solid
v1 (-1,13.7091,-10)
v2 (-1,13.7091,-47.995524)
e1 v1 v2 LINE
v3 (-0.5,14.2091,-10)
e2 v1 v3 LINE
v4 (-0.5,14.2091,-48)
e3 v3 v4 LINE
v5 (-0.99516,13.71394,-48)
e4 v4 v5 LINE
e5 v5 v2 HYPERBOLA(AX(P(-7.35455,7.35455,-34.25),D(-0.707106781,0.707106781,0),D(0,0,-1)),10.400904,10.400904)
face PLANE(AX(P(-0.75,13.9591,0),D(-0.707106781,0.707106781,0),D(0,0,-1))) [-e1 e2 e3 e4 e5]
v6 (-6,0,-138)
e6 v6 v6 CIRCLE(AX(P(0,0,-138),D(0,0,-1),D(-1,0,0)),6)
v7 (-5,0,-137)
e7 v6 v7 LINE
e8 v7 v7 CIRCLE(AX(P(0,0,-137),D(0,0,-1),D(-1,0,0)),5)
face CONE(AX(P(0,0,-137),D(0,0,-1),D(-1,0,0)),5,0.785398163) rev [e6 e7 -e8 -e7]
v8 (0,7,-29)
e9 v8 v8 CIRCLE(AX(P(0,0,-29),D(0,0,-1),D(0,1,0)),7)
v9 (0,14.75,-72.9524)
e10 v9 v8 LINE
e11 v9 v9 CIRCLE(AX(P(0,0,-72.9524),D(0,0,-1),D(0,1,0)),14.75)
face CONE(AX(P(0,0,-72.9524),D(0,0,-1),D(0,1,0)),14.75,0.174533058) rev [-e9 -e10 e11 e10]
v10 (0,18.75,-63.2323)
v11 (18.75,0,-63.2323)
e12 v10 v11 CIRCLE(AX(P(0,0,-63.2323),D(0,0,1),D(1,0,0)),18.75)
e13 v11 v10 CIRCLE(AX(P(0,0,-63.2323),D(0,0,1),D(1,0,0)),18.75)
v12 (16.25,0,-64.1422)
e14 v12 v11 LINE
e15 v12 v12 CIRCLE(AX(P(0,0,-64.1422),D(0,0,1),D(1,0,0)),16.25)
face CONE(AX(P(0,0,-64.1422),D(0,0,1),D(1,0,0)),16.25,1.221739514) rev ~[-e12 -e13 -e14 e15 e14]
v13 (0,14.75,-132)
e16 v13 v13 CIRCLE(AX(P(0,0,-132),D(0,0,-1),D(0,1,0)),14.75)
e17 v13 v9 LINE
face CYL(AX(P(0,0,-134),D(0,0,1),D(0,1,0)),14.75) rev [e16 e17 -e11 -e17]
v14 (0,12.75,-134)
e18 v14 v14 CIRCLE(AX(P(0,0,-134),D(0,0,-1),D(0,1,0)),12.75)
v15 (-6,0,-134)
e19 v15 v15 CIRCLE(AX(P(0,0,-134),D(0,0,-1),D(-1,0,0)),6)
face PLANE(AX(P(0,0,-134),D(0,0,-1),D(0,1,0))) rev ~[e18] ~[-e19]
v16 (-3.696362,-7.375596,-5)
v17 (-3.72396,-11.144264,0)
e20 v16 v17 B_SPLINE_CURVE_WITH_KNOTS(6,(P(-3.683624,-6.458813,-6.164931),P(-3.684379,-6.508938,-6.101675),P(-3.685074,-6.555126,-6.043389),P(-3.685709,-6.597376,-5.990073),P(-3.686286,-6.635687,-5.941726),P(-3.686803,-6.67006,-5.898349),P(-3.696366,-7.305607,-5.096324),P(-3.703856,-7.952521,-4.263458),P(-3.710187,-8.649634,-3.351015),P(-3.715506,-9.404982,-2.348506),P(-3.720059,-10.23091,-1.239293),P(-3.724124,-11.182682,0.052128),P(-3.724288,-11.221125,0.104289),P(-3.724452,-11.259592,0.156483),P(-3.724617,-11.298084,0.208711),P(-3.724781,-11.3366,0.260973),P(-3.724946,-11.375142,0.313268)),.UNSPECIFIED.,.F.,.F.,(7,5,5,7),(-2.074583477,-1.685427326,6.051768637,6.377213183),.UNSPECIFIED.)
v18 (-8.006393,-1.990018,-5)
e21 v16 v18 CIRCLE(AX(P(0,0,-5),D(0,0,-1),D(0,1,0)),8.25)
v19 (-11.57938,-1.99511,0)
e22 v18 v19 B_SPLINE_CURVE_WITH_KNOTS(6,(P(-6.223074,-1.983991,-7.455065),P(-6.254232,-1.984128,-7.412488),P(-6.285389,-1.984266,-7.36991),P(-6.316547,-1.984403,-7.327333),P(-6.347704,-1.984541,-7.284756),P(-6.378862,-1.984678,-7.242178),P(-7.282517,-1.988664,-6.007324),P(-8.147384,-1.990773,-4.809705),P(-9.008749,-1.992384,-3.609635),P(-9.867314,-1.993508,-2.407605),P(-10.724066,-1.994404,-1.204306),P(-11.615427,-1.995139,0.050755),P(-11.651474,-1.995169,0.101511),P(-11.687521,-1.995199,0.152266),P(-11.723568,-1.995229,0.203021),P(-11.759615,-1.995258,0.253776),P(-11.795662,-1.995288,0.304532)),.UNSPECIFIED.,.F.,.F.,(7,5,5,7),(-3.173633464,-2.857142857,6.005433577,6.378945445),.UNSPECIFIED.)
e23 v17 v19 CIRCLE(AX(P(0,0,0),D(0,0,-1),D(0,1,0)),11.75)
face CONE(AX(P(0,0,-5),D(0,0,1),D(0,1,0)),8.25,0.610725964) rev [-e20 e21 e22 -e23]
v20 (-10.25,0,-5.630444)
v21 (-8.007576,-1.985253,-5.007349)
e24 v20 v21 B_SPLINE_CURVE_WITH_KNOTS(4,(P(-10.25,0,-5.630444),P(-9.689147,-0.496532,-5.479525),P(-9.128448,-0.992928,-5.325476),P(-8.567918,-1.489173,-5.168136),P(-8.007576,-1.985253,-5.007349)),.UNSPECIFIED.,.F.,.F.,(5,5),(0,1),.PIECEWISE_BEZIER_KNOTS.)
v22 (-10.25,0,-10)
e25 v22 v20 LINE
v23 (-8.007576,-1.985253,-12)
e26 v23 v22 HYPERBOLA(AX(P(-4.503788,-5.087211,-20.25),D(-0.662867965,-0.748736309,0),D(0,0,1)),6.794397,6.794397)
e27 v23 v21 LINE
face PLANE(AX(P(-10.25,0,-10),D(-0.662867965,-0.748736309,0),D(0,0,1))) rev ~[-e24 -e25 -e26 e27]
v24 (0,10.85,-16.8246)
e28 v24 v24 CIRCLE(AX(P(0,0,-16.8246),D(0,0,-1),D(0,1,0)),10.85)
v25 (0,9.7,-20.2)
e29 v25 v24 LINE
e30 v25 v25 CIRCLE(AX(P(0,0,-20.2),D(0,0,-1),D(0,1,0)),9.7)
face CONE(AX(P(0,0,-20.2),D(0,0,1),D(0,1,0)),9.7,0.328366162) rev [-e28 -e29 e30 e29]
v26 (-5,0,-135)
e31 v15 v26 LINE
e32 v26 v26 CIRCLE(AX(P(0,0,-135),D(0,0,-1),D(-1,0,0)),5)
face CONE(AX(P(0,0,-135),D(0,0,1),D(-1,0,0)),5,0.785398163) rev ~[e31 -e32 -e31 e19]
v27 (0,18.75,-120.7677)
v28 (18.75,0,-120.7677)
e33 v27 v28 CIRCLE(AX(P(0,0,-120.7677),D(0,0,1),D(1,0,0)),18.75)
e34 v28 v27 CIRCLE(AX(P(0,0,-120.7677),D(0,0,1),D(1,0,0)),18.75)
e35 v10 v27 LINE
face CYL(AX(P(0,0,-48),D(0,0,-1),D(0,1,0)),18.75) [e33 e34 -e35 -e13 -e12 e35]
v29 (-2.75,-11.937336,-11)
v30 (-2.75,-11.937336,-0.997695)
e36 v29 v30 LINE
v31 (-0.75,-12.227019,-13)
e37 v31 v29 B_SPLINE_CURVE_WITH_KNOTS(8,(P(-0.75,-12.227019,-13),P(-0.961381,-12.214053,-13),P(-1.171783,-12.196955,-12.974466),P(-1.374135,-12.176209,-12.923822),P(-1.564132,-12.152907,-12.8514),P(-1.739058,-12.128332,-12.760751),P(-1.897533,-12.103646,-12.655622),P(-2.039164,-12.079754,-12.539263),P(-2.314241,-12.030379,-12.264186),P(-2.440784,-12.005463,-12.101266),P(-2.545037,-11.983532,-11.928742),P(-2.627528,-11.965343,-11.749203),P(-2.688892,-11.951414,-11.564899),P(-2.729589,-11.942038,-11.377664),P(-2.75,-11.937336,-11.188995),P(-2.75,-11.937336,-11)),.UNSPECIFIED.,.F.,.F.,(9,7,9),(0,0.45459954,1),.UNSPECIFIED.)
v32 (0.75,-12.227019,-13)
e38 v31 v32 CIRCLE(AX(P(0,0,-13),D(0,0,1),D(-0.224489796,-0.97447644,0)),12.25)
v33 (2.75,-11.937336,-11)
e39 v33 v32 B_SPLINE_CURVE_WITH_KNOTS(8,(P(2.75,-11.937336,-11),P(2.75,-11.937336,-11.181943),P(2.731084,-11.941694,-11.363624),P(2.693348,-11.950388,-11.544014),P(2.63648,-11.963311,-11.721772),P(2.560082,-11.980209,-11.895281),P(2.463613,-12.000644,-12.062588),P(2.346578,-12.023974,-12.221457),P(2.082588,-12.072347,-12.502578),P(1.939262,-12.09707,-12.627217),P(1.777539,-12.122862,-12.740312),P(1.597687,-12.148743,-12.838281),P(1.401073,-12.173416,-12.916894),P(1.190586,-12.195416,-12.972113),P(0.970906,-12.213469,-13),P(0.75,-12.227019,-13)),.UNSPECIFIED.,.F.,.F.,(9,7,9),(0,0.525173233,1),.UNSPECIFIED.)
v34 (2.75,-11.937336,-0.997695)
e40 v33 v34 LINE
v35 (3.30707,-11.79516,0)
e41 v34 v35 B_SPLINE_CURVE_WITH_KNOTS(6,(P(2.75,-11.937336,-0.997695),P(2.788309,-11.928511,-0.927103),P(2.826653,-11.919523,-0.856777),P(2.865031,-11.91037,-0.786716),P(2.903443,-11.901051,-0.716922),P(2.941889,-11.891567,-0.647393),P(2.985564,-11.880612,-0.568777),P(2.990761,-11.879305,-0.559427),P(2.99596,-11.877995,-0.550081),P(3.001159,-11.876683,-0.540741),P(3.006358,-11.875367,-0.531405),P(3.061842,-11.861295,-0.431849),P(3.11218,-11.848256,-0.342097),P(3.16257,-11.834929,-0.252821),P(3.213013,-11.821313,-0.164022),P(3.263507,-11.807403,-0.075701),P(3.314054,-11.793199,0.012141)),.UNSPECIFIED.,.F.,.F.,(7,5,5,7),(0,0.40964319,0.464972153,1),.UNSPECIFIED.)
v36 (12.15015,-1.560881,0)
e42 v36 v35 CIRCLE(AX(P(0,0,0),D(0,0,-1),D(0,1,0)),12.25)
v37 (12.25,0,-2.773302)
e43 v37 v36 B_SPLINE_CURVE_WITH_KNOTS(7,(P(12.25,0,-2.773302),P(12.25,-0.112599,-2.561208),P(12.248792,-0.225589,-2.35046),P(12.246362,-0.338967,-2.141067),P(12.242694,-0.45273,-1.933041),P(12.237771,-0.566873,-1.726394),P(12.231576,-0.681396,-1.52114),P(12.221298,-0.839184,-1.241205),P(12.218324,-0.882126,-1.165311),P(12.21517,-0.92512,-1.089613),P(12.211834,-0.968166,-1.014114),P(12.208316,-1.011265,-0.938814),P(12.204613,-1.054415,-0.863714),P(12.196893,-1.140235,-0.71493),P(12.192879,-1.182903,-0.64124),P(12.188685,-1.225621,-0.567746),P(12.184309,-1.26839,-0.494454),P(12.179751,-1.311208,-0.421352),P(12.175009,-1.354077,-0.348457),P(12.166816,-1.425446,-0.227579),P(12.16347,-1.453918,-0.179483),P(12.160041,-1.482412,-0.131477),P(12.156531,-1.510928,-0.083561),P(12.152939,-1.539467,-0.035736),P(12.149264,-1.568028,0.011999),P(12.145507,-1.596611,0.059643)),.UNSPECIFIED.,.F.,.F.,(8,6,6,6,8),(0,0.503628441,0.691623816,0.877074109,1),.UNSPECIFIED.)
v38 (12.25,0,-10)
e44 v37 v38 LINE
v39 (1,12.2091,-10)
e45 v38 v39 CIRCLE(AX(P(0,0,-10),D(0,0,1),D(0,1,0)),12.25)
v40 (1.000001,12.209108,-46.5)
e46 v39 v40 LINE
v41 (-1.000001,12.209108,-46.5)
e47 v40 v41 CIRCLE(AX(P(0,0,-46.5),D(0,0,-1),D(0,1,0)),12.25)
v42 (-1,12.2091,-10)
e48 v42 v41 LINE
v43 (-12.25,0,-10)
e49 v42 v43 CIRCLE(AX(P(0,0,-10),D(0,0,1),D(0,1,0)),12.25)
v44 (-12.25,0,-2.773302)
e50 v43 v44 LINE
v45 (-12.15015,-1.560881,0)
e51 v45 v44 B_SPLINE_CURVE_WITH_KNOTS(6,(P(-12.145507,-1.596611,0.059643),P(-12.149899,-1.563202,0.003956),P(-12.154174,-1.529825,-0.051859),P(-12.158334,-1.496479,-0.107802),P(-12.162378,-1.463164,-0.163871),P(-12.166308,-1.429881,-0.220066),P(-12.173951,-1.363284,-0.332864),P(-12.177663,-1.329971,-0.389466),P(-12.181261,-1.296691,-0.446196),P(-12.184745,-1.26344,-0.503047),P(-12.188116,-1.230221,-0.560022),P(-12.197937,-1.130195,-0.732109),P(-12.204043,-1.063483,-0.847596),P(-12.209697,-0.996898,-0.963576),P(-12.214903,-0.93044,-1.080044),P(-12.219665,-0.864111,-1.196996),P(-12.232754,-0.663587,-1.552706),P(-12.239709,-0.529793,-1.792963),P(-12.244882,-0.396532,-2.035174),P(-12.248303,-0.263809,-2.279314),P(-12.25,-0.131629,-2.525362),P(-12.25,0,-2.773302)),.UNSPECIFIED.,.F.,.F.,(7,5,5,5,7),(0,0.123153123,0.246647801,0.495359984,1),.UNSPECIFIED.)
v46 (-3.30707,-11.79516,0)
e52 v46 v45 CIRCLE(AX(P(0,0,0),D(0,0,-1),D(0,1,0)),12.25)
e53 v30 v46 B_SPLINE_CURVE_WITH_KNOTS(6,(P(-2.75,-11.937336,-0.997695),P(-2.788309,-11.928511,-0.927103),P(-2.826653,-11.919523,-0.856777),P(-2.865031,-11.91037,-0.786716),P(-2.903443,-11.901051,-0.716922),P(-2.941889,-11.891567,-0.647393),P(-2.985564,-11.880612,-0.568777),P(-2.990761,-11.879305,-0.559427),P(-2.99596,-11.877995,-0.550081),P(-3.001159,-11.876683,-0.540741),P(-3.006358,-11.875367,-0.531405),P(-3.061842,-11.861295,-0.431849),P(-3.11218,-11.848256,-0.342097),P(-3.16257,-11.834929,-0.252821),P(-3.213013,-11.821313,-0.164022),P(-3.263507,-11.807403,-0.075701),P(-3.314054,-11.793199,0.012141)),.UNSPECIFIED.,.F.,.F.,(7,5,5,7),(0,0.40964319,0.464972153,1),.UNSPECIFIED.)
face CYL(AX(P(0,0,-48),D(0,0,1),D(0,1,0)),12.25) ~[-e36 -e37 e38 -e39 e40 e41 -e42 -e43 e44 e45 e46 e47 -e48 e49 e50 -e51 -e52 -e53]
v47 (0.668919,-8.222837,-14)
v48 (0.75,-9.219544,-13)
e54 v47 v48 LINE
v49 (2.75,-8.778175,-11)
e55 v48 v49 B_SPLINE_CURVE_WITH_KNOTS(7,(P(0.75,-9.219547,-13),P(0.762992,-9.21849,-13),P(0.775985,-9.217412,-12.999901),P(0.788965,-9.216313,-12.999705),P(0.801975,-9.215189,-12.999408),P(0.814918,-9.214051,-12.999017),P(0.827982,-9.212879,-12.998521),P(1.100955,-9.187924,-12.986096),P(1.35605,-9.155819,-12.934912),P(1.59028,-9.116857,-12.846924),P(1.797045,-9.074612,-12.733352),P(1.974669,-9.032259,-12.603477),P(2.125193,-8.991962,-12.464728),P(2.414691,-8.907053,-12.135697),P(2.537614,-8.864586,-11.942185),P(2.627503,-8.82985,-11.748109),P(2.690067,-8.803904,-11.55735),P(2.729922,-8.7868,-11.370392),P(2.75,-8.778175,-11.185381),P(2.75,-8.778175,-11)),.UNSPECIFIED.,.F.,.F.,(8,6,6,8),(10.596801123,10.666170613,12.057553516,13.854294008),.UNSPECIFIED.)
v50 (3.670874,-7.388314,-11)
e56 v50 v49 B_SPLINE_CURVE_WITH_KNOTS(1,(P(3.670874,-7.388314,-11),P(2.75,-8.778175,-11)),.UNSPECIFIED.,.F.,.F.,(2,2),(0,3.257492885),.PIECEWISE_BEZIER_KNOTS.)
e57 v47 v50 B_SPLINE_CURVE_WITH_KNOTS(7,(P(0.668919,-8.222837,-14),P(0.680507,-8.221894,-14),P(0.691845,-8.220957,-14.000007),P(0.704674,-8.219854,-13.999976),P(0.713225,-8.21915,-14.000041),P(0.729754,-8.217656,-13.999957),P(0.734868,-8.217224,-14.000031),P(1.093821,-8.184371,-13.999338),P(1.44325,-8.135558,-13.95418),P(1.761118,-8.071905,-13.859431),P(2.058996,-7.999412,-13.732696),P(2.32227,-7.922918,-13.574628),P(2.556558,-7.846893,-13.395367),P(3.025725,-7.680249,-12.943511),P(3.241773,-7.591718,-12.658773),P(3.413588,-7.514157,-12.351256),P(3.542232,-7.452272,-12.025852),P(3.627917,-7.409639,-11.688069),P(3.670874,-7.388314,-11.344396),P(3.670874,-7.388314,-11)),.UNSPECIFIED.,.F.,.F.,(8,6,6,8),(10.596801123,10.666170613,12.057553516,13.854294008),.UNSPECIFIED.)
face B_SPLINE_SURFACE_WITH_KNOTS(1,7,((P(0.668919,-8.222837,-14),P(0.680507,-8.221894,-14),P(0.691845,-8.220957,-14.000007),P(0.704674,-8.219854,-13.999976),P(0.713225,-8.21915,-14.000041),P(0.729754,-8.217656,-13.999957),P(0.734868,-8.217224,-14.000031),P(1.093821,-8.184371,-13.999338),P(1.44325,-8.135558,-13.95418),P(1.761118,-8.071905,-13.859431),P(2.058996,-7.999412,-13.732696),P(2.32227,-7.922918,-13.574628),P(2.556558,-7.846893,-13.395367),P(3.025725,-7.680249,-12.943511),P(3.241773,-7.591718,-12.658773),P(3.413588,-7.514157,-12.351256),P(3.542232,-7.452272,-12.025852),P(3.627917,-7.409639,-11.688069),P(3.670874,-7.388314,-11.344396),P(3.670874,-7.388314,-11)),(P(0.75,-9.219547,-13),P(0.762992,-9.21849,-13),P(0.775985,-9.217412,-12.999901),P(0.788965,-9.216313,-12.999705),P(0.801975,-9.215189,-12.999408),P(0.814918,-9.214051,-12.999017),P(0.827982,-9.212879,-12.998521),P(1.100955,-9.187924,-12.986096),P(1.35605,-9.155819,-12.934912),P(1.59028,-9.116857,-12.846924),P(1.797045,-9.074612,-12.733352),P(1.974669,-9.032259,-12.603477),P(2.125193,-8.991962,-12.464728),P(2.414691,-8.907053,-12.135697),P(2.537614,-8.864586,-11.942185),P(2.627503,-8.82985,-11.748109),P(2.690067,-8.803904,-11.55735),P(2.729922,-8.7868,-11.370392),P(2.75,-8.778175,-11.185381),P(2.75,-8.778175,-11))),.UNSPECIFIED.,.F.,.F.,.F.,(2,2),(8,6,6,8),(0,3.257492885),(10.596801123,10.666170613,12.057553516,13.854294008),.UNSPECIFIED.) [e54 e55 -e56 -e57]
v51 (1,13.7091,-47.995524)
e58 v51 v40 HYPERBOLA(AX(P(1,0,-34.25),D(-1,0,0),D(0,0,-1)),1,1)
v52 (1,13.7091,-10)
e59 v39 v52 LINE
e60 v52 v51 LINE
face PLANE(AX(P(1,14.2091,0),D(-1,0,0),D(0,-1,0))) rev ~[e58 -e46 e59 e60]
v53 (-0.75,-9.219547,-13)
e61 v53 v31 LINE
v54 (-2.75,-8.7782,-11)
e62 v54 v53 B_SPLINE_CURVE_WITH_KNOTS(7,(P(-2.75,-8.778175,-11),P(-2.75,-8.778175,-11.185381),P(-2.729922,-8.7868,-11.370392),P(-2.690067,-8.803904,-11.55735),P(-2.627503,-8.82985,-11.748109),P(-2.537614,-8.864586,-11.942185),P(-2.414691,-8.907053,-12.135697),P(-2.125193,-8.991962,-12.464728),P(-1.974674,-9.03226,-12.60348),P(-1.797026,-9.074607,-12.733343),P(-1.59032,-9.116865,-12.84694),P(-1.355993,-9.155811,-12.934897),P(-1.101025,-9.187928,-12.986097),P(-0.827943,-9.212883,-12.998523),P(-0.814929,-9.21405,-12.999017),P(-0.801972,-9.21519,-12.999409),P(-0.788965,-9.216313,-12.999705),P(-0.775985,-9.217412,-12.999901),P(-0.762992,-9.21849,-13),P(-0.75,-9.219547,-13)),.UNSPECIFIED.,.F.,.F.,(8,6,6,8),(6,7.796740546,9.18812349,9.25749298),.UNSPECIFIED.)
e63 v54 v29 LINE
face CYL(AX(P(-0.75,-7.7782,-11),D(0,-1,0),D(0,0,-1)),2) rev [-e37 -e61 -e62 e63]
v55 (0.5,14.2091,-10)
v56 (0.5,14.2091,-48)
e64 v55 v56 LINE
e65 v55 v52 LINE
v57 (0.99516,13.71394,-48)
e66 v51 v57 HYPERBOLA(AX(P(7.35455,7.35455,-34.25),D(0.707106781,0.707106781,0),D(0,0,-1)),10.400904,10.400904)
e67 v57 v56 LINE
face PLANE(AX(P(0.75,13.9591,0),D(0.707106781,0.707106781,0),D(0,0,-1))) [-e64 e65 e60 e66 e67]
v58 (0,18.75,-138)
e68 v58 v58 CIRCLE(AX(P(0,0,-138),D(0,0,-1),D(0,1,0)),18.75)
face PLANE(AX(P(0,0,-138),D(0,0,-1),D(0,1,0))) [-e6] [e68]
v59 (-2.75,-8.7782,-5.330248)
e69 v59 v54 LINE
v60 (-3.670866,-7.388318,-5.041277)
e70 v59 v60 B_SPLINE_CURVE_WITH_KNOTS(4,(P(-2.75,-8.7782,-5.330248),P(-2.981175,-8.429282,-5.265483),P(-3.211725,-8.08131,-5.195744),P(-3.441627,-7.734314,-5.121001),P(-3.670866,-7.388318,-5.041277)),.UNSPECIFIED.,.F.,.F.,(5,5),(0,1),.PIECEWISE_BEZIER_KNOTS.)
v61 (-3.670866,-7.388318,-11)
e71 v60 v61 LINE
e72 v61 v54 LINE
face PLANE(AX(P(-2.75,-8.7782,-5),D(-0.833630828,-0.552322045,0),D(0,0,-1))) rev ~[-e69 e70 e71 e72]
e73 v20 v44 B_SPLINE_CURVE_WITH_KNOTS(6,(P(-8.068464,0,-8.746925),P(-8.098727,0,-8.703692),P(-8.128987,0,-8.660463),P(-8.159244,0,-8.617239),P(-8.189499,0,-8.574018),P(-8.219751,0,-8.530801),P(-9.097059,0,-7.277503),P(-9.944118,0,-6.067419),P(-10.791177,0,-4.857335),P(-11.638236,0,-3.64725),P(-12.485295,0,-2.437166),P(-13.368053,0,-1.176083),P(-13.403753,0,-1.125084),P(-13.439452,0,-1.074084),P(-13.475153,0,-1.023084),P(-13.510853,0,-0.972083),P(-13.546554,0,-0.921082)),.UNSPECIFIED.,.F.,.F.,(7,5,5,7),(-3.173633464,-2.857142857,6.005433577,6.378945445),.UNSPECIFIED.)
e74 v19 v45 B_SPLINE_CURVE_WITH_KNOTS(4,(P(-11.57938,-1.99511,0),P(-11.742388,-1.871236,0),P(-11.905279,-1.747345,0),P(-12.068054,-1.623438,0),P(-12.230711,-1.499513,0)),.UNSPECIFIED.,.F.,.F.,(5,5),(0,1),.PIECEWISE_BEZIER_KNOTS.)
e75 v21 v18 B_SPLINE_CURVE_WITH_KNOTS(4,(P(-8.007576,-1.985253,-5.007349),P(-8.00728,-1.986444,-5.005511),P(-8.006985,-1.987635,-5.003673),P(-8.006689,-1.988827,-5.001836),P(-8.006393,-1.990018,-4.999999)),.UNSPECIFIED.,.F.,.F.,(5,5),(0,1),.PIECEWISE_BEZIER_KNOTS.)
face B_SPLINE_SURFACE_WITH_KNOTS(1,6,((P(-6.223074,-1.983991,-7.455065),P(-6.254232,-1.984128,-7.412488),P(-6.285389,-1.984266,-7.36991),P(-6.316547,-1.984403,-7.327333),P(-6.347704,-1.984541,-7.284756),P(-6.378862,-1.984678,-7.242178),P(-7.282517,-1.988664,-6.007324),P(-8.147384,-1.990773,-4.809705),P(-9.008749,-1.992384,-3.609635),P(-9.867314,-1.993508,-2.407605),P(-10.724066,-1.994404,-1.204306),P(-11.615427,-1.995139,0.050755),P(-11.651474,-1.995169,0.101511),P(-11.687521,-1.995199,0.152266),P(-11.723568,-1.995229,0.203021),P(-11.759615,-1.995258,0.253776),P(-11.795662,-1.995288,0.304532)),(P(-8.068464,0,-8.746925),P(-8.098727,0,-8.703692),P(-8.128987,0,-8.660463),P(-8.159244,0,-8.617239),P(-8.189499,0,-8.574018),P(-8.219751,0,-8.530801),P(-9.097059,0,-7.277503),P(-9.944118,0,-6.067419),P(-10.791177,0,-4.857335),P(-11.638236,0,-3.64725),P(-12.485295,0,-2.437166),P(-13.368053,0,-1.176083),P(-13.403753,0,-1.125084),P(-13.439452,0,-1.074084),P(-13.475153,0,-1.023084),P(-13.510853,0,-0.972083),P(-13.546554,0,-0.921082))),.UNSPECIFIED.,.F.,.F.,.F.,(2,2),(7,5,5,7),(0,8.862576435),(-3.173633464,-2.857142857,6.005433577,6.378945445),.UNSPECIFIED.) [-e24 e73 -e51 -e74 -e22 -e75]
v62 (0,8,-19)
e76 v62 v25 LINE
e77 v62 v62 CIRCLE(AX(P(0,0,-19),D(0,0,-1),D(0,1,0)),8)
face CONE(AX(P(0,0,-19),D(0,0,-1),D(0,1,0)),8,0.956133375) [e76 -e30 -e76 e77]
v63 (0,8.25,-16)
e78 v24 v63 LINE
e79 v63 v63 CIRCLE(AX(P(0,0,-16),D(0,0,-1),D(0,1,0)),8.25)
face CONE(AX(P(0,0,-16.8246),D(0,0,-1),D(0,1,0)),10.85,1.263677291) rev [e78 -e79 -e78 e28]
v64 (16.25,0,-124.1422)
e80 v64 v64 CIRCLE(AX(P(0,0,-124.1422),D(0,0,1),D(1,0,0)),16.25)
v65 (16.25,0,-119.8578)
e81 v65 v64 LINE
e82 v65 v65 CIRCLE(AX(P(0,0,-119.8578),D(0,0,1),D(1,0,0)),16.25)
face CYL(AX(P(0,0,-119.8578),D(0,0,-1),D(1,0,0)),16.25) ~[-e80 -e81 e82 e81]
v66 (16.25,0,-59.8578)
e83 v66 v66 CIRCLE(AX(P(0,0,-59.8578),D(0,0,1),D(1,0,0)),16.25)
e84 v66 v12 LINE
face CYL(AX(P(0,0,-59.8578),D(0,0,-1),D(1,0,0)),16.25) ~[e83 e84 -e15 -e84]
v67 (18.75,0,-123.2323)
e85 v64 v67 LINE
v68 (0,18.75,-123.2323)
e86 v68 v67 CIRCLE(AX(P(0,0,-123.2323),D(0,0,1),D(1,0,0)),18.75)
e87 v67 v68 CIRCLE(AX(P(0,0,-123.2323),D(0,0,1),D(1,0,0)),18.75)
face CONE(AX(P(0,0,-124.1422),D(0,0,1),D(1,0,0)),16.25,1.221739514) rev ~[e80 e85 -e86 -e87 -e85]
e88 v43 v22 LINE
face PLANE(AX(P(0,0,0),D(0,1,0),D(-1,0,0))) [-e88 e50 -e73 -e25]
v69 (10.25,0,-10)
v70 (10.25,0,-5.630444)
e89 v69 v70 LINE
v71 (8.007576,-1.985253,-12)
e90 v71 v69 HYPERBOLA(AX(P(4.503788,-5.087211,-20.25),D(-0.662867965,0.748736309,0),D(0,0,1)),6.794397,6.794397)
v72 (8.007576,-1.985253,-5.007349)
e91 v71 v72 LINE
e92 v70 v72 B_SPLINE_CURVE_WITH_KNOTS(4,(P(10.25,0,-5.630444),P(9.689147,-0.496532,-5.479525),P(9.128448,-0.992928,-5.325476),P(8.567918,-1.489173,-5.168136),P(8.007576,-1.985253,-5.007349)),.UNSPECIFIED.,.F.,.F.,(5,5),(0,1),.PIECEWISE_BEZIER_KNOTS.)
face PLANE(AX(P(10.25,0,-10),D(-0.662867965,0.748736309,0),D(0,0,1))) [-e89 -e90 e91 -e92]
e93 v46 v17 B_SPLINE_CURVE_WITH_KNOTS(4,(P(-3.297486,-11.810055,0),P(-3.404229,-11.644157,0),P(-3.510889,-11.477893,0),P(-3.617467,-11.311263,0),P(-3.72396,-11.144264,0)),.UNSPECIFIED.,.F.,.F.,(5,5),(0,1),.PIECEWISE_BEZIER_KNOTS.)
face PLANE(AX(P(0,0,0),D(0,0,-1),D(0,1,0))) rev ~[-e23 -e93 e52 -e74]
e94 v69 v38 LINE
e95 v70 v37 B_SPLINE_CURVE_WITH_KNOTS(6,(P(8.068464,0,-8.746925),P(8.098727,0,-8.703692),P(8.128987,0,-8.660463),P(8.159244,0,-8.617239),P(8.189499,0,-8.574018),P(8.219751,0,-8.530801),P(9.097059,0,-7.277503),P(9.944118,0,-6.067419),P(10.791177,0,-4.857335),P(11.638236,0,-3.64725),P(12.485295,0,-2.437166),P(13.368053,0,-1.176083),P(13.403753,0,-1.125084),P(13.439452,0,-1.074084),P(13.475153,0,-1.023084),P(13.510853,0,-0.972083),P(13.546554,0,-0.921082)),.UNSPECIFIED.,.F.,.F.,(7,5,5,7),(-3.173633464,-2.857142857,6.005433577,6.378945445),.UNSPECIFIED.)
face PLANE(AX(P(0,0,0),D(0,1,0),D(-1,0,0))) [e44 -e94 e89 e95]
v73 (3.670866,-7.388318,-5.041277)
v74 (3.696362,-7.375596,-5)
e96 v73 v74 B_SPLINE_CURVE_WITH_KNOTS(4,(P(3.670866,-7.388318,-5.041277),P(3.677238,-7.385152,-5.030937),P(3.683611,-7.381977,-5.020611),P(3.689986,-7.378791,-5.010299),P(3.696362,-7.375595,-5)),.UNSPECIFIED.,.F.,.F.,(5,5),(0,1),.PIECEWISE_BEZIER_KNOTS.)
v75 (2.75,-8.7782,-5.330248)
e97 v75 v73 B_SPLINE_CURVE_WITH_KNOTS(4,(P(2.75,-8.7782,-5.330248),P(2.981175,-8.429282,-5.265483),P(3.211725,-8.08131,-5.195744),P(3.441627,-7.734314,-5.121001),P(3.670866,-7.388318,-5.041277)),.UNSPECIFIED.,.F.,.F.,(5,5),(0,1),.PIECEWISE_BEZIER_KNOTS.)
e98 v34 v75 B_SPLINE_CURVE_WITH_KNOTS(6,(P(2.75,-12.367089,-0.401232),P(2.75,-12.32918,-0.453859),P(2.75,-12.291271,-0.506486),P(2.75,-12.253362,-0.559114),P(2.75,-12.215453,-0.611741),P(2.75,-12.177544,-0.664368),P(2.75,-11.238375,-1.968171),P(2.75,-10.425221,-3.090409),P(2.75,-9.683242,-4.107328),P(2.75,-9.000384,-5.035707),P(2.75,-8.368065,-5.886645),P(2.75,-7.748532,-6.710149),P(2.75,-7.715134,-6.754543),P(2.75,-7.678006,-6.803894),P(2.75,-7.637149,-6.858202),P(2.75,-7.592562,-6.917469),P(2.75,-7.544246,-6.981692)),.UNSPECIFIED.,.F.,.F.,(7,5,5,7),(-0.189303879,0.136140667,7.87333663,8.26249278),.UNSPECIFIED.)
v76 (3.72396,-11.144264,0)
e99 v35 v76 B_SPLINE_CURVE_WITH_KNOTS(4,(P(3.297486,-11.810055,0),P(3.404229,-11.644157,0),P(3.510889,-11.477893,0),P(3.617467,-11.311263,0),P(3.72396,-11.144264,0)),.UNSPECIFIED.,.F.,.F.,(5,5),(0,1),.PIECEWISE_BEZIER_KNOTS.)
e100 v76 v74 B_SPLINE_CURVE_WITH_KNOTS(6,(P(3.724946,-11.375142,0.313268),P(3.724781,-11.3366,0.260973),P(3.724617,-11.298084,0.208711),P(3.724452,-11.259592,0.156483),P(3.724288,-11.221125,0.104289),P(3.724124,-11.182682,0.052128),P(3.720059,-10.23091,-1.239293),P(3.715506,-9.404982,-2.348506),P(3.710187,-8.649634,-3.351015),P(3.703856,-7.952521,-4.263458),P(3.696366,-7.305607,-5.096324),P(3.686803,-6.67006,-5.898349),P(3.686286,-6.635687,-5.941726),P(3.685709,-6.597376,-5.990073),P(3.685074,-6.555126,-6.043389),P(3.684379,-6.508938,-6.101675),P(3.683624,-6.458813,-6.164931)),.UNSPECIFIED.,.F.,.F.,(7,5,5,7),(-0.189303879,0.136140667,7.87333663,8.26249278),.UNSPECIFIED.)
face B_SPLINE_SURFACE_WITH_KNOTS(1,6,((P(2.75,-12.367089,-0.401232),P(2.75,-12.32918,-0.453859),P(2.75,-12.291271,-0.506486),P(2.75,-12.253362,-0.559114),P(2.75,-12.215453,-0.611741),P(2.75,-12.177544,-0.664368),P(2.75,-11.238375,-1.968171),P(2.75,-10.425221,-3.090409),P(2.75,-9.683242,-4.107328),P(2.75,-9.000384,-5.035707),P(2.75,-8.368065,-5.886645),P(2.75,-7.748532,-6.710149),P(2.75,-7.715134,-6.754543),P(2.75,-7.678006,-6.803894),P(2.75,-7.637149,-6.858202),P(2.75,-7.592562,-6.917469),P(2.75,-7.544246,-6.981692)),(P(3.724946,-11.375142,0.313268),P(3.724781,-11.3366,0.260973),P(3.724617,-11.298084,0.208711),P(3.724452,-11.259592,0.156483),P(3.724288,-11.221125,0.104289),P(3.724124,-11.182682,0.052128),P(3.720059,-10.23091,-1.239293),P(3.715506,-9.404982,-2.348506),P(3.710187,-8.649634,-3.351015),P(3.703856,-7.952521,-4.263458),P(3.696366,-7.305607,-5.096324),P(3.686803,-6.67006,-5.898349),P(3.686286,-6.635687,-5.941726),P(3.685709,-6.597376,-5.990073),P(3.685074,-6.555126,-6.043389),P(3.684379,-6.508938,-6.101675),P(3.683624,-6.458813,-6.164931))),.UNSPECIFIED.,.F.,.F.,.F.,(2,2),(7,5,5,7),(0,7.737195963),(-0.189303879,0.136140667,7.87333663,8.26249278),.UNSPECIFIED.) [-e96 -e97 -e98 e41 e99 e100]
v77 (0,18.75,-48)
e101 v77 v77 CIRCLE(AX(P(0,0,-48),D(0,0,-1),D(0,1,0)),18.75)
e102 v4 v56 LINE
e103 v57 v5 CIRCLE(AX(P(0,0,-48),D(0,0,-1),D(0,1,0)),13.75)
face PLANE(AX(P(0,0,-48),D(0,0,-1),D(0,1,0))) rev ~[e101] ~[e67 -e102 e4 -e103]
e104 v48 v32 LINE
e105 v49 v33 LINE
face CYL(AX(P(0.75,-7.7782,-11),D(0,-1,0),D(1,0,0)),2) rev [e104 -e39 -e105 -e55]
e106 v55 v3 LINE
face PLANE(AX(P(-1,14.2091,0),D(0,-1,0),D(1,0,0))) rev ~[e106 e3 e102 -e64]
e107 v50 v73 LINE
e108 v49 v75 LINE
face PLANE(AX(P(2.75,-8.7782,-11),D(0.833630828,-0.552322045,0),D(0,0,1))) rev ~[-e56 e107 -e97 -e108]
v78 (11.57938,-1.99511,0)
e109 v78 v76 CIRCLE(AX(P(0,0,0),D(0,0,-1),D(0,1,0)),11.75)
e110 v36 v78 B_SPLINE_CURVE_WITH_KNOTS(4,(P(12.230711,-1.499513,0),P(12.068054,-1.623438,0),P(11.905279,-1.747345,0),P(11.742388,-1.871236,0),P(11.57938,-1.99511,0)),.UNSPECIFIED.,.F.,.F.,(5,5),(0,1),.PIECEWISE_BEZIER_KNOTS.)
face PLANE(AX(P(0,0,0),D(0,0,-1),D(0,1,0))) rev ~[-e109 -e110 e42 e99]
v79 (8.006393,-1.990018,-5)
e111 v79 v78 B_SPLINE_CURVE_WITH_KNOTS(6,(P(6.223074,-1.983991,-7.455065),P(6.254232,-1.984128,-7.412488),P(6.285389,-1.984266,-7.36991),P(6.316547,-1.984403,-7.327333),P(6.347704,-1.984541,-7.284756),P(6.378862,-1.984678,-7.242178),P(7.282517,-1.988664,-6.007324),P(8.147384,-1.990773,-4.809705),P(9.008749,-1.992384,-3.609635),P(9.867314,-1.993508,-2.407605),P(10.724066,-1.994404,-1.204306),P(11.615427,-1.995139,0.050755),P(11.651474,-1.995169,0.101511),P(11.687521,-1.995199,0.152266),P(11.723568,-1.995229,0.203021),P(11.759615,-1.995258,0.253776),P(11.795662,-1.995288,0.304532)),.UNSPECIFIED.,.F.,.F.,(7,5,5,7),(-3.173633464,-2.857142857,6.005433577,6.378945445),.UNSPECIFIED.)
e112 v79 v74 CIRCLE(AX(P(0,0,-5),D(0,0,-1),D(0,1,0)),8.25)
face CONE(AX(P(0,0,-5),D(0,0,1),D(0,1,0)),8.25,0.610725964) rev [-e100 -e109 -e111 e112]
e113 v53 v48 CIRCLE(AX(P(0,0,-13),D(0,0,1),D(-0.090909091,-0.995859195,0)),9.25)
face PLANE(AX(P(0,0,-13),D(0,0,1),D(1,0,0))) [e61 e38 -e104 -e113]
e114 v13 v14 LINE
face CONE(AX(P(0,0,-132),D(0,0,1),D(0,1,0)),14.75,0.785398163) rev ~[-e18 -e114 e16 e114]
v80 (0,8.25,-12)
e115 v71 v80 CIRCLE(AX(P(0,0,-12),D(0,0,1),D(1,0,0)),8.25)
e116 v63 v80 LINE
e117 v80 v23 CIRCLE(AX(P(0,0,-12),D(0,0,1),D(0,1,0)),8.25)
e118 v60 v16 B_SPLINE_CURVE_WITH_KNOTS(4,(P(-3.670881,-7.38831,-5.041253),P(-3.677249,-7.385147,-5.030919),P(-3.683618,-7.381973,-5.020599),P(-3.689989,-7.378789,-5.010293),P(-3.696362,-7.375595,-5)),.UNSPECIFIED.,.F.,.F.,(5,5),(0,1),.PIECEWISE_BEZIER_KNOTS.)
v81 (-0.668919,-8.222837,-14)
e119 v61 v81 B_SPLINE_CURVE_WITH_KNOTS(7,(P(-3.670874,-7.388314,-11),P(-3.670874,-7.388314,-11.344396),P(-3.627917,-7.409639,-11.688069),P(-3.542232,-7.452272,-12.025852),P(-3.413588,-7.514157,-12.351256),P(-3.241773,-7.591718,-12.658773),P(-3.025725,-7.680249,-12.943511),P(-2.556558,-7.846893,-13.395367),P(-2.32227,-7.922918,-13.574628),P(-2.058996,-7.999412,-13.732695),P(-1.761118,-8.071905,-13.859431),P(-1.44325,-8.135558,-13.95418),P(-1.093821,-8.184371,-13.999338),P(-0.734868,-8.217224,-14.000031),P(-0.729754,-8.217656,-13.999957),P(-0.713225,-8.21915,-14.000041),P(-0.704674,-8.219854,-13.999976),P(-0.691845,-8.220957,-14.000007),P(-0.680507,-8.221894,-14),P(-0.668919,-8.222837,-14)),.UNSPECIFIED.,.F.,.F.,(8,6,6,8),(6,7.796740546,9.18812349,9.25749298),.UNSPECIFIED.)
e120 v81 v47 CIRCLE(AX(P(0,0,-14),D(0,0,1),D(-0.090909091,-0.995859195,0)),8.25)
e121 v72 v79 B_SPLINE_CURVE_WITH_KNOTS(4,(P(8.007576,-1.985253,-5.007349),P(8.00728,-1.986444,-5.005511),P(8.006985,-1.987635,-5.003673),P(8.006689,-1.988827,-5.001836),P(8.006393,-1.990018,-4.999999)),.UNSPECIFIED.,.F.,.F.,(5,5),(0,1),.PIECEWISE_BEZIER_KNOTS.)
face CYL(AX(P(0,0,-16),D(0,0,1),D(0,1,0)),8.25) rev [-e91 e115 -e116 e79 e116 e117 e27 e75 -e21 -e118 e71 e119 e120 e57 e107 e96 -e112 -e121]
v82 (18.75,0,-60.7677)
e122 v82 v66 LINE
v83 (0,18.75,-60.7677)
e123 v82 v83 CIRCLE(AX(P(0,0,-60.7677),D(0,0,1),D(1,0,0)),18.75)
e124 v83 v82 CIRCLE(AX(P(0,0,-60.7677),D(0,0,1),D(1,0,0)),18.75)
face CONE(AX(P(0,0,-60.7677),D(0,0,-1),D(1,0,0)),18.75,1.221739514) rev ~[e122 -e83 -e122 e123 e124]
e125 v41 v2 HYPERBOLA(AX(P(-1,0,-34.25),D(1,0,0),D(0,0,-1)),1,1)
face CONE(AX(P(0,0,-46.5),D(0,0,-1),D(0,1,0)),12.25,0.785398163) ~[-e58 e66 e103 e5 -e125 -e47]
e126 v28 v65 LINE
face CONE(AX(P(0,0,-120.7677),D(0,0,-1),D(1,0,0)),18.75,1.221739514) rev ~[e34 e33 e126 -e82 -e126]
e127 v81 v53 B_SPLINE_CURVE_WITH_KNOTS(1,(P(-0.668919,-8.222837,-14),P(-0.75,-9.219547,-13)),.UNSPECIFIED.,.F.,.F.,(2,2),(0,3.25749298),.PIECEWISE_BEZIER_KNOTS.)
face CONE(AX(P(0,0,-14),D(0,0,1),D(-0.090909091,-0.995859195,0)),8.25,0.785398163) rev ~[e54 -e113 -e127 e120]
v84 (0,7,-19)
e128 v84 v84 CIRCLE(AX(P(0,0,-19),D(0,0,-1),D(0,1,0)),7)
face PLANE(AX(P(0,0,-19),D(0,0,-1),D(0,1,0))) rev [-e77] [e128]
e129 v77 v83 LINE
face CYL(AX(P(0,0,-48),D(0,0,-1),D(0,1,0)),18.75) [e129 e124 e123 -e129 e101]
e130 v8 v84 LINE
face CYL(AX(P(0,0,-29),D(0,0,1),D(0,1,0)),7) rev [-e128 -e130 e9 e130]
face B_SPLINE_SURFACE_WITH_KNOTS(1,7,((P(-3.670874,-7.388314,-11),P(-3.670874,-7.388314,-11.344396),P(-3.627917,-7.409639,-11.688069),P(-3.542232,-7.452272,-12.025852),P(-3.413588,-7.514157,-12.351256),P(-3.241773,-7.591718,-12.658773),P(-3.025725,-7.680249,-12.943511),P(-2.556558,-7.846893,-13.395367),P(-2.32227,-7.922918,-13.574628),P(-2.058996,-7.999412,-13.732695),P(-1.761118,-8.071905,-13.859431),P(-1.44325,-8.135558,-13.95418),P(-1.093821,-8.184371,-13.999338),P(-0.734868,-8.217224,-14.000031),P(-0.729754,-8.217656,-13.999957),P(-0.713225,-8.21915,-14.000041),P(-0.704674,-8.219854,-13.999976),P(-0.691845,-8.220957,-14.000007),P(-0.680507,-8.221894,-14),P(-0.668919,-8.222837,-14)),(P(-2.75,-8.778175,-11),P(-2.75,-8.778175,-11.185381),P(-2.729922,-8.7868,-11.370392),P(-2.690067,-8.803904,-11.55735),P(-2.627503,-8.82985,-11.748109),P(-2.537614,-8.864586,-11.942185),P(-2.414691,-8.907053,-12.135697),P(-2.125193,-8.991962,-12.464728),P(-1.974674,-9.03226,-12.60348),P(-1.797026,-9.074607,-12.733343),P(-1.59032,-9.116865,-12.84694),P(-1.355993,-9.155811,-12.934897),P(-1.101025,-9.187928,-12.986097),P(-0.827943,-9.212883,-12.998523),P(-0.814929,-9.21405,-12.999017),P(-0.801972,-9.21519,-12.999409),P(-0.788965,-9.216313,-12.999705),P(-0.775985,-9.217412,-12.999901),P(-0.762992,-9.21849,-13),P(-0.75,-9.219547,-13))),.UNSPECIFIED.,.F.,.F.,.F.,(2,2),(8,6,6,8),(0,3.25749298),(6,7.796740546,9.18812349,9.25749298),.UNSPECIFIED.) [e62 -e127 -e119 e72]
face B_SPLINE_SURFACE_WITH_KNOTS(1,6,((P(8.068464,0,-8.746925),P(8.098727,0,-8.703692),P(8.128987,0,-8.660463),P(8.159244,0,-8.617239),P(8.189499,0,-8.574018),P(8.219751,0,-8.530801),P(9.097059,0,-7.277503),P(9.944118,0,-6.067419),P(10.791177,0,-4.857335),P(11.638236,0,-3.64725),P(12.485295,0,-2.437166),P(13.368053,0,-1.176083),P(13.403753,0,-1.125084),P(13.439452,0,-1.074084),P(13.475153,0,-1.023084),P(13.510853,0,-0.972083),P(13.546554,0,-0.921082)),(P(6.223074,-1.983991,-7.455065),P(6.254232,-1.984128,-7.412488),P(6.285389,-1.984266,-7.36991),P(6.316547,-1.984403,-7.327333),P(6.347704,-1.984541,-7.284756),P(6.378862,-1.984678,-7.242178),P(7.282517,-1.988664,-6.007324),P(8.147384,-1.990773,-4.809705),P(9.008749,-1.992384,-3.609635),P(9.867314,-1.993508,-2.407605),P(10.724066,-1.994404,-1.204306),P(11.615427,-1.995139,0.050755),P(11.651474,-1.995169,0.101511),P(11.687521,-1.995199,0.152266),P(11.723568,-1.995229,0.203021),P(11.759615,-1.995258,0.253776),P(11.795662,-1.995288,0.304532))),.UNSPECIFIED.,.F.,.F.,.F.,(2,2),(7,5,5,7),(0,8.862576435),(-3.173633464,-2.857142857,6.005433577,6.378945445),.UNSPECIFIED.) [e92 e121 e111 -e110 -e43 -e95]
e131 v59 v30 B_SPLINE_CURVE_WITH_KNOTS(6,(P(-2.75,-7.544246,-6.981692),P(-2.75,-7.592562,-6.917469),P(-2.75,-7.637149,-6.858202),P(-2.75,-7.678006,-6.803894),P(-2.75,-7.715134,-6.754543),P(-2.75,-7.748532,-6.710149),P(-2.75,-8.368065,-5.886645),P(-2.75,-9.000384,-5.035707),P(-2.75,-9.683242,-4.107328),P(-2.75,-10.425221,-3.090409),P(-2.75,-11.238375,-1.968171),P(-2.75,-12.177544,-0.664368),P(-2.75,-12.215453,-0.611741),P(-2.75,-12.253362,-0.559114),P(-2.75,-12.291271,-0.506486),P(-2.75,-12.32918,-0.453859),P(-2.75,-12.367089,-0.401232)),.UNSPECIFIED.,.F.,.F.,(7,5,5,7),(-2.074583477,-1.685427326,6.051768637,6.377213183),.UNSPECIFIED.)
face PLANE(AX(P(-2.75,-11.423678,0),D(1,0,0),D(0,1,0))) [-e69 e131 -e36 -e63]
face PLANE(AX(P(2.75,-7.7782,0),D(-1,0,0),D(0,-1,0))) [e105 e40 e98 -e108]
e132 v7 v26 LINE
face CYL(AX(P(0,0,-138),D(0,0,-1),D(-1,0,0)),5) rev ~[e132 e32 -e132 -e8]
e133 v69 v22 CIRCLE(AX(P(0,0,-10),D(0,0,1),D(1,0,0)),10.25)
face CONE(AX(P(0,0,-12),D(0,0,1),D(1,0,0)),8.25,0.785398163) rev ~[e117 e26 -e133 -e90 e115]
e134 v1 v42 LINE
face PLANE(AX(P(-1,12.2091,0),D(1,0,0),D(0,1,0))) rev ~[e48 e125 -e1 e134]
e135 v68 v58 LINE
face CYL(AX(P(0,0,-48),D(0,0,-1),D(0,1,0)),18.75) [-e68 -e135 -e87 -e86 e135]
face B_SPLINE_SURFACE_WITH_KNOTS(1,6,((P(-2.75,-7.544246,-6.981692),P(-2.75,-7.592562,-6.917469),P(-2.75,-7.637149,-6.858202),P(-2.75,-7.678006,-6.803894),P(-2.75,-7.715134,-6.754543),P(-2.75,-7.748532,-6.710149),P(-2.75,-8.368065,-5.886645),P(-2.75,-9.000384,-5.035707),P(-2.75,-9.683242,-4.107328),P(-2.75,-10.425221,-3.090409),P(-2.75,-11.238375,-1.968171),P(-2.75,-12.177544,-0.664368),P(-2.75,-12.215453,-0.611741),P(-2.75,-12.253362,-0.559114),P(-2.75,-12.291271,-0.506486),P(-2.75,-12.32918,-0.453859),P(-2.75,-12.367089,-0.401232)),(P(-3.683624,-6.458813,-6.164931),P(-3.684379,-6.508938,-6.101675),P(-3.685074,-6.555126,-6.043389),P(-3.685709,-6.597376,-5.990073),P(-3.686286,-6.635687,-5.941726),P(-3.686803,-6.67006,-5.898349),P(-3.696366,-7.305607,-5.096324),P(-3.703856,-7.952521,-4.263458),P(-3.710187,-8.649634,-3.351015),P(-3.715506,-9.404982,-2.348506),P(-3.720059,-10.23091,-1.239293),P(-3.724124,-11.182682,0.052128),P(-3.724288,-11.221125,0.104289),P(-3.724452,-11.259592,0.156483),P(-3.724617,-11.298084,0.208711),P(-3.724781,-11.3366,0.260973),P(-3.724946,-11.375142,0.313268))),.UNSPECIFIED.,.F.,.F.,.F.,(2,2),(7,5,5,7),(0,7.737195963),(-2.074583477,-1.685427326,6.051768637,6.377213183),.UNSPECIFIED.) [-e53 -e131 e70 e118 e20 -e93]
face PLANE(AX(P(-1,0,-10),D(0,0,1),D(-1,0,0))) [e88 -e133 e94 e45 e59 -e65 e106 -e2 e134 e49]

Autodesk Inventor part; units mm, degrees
ref_plane "YZ Plane" through (0, 0, 0) normal (1, 0, 0) x (0, 1, 0)
ref_plane "XZ Plane" through (0, 0, 0) normal (0, 1, 0) x (-1, 0, 0)
ref_plane "XY Plane" through (0, 0, 0) normal (0, 0, 1) x (1, 0, 0)
sketch "Esquisse1" plane through (0, 0, 0) normal (1, 0, 0) x (0, 1, 0)
  line L0 (0, 0) -> (0, -31.2712)
  line L1 (18.75, -48) -> (18.75, -138)
  line L2 (18.75, -138) -> (0, -138)
  line L3 (14.75, -134) -> (14.75, -72.9524)
  line L4 (14.75, -72.9524) -> (7, -29)
  line L5 (7, -29) -> (7, -19)
  line L6 (7, -19) -> (8, -19)
  line L7 (8, -19) -> (9.7, -20.2)
  line L8 (9.7, -20.2) -> (10.85, -16.8246)
  line L9 (10.85, -16.8246) -> (8.25, -16)
  circle A0 centre (8.85, -17.7639) radius 1.5 construction
  line L10 (8.25, -16) -> (8.25, -5)
  line L11 (8.25, -5) -> (11.75, 0)
  line L12 (18.75, -48) -> (12.25, -48)
  line L13 (12.25, -48) -> (12.25, 0)
  line L14 (12.25, 0) -> (11.75, 0)
  line L15 (0, -138) -> (0, -134)
  line L16 (14.75, -134) -> (0, -134)
  point P0 (9.7477, -44.583)
  dimension "d1" = 37.5
  dimension "d3" = 14
  dimension "d6" = 3
  dimension "d7" = 10
  dimension "d8" = 1
  dimension "d11" = 3
  dimension "d12" = 0.6
  dimension "d13" = 1.2
  dimension "d14" = 1.7
  dimension "d15" = 2.6
  dimension "d29" = 24.5
  dimension "d30" = 0.5
  dimension "d31" = 48
  dimension "d34" = 11
  dimension "d36" = 16.5
  dimension "d37" = 19
  dimension "d38" = 90
  dimension "d58" = 7.75
  dimension "d59" = 170
  dimension "d60" = 19.4954
  dimension "d61" = 4
  dimension "d62" = 4
revolve "Révolution2" add sketch "Esquisse1" angle 360 about axis through (0, 0, 0) along (0, 0, -1)
sketch "Esquisse2" plane through (0, 0, 0) normal (0, 1, 0) x (-1, 0, 0)
  line L0 (-18.75, -48) -> (18.75, -48) projected
  line L1 (-18.75, -138) -> (18.75, -138) projected
  line L2 (-14.75, -72.9524) -> (14.75, -72.9524) projected
  line L3 (-7, -29) -> (7, -29) projected
  line L4 (-18.75, -48) -> (-18.75, -138) projected
  line L5 (-18.75, -60.7677) -> (-16.25, -59.8578)
  line L6 (-16.25, -59.8578) -> (-16.25, -64.1422)
  line L7 (-16.25, -64.1422) -> (-18.75, -63.2323)
  circle A0 centre (-17.75, -62) radius 1.5 construction
  line L8 (0, -168) -> (0, 28) projected
  point P0 (0, 0)
  dimension "d42" = 3
  dimension "d45" = 1
  dimension "d46" = 70
  dimension "d47" = 70
  dimension "d48" = 14
revolve "Révolution3" cut sketch "Esquisse2" angle 360 about axis through (0, 0, -10) along (0, 0, 1) contours L5 L6 L7 L4
chamfer "Chanfrein4" distance 1.5 angle 45 1 edges at (0, -12.25, -48)
pattern_linear "Réseau rectangulaire1" count 2 spacing 60 along (0, 0, -1) of "Révolution3"
chamfer "Chanfrein5" distance 2 angle 45 1 edges at (0, -14.75, -134)
sketch "Esquisse3" plane through (0, 0, 0) normal (0, 0, 1) x (1, 0, 0)
  circle A0 centre (0, 0) radius 11.75 projected
  circle A1 centre (0, 0) radius 12.25 projected
  line L0 (-1, 14.2091) -> (1, 14.2091)
  line L1 (1, 14.2091) -> (1, 12.2091)
  line L2 (1, 12.2091) -> (-1, 12.2091)
  line L3 (-1, 12.2091) -> (-1, 14.2091)
  circle A2 centre (0, 0) radius 12.25 projected
  point P0 (0, 12.2091)
  dimension "d66" = 2
  dimension "d67" = 2
extrude "Extrusion1" add sketch "Esquisse3" against normal up to surface (48 mm away) contours L2 A1 | A1 L3 L0 L1 picked at (-0.1112, 12.2212)
chamfer "Chanfrein6" distance 0.5 angle 45 2 edges at (1, 14.2091, -24) (-1, 14.2091, -24)
sketch "Esquisse8" plane through (0, 0, -138) normal (0, 0, -1) x (-1, 0, 0)
  circle A0 centre (0, 0) radius 5
  dimension "d100" = 10
extrude "Extrusion5" cut sketch "Esquisse8" against normal up to surface (4 mm away)
chamfer "Chanfrein8" distance 1 angle 45 2 edges at (5, 0, -138) (5, 0, -134)
sketch "Esquisse9" plane through (0, 0, 0) normal (0, 1, 0) x (-1, 0, 0)
  line L0 (1, 0) -> (1, -46.5) projected
  line L1 (-1, -46.5) -> (1, -46.5) projected
  line L2 (-1, -46.5) -> (-1, 0) projected
  line L3 (-1, 0) -> (1, 0) projected
  line L4 (8.25, -5) -> (11.75, 0) projected
  line L5 (-8.25, -5) -> (-11.75, 0) projected
  line L6 (12.25, 0) -> (-12.25, 0)
  line L7 (-12.25, 0) -> (-12.25, -10)
  line L8 (-12.25, -10) -> (12.25, -10)
  line L9 (12.25, -10) -> (12.25, 0)
  line L10 (-12.25, 0) -> (12.25, 0) projected
  line L11 (-8.25, -5) -> (8.25, -5) projected
  line L12 (-12.25, 0) -> (-12.25, -46.5) projected
  point P0 (0, 0)
  dimension "d112" = 10
  dimension "d113" = 5
extrude "Extrusion6" cut sketch "Esquisse9" along normal blind 15 contours L6 L4 L11 L0 | L0 L11 L2 L3 | L11 L4 L6 L9 L8 L0 | L0 L8 L2 L11 | L2 L11 L5 L6 | L2 L8 L7 L6 L5 L11
chamfer "Chanfrein9" distance 2 angle 45 6 edges at (10, 0, -2.5) (-10, 0, -2.5) (8.25, 0, -7.5) (-8.25, 0, -7.5) (5.8336, 5.8336, -10) (-5.8336, 5.8336, -10)
sketch "Esquisse10" plane through (0, 0, 0) normal (0, 0, 1) x (1, 0, 0)
  arc A0 (-8.0064, -1.99) -> (8.0064, -1.99) centre (0, 0) ccw projected
  arc A1 (-11.5794, -1.9951) -> (11.5794, -1.9951) centre (0, 0) ccw projected
  arc A2 (-11.5794, -1.9951) -> (11.5794, -1.9951) centre (0, 0) ccw projected
  arc A3 (-12.1502, -1.5608) -> (12.1502, -1.5608) centre (0, 0) ccw projected
  line L0 (-2.75, -7.7782) -> (2.75, -7.7782)
  line L1 (2.75, -7.7782) -> (2.75, -12.25)
  line L2 (2.75, -12.25) -> (-2.75, -12.25)
  line L3 (-2.75, -12.25) -> (-2.75, -7.7782)
  arc A4 (-12.1502, -1.5608) -> (12.1502, -1.5608) centre (0, 0) ccw projected
  dimension "d114" = 5.5
extrude "Extrusion7" cut sketch "Esquisse10" against normal blind 13 contours A0 L1 A1 L3 | A1 L1 A3 L3 | A3 L2 L3 | L1 L2 A3
fillet "Congé1" radius 2 2 edges at (-2.75, -9.8578, -13) (2.75, -9.8578, -13)
chamfer "Chanfrein10" distance 1 angle 45 7 edges at (-2.75, -7.7782, -8) (-2.2552, -7.9358, -12.3169) (0, -8.25, -13) (2.2552, -7.9358, -12.3169) (2.75, -7.7782, -8) (-2.75, -9.4401, -2.7393) (2.75, -9.4401, -2.7393)
equation "\"d47\" = d46"
properties part number "douille_bloqueur"
